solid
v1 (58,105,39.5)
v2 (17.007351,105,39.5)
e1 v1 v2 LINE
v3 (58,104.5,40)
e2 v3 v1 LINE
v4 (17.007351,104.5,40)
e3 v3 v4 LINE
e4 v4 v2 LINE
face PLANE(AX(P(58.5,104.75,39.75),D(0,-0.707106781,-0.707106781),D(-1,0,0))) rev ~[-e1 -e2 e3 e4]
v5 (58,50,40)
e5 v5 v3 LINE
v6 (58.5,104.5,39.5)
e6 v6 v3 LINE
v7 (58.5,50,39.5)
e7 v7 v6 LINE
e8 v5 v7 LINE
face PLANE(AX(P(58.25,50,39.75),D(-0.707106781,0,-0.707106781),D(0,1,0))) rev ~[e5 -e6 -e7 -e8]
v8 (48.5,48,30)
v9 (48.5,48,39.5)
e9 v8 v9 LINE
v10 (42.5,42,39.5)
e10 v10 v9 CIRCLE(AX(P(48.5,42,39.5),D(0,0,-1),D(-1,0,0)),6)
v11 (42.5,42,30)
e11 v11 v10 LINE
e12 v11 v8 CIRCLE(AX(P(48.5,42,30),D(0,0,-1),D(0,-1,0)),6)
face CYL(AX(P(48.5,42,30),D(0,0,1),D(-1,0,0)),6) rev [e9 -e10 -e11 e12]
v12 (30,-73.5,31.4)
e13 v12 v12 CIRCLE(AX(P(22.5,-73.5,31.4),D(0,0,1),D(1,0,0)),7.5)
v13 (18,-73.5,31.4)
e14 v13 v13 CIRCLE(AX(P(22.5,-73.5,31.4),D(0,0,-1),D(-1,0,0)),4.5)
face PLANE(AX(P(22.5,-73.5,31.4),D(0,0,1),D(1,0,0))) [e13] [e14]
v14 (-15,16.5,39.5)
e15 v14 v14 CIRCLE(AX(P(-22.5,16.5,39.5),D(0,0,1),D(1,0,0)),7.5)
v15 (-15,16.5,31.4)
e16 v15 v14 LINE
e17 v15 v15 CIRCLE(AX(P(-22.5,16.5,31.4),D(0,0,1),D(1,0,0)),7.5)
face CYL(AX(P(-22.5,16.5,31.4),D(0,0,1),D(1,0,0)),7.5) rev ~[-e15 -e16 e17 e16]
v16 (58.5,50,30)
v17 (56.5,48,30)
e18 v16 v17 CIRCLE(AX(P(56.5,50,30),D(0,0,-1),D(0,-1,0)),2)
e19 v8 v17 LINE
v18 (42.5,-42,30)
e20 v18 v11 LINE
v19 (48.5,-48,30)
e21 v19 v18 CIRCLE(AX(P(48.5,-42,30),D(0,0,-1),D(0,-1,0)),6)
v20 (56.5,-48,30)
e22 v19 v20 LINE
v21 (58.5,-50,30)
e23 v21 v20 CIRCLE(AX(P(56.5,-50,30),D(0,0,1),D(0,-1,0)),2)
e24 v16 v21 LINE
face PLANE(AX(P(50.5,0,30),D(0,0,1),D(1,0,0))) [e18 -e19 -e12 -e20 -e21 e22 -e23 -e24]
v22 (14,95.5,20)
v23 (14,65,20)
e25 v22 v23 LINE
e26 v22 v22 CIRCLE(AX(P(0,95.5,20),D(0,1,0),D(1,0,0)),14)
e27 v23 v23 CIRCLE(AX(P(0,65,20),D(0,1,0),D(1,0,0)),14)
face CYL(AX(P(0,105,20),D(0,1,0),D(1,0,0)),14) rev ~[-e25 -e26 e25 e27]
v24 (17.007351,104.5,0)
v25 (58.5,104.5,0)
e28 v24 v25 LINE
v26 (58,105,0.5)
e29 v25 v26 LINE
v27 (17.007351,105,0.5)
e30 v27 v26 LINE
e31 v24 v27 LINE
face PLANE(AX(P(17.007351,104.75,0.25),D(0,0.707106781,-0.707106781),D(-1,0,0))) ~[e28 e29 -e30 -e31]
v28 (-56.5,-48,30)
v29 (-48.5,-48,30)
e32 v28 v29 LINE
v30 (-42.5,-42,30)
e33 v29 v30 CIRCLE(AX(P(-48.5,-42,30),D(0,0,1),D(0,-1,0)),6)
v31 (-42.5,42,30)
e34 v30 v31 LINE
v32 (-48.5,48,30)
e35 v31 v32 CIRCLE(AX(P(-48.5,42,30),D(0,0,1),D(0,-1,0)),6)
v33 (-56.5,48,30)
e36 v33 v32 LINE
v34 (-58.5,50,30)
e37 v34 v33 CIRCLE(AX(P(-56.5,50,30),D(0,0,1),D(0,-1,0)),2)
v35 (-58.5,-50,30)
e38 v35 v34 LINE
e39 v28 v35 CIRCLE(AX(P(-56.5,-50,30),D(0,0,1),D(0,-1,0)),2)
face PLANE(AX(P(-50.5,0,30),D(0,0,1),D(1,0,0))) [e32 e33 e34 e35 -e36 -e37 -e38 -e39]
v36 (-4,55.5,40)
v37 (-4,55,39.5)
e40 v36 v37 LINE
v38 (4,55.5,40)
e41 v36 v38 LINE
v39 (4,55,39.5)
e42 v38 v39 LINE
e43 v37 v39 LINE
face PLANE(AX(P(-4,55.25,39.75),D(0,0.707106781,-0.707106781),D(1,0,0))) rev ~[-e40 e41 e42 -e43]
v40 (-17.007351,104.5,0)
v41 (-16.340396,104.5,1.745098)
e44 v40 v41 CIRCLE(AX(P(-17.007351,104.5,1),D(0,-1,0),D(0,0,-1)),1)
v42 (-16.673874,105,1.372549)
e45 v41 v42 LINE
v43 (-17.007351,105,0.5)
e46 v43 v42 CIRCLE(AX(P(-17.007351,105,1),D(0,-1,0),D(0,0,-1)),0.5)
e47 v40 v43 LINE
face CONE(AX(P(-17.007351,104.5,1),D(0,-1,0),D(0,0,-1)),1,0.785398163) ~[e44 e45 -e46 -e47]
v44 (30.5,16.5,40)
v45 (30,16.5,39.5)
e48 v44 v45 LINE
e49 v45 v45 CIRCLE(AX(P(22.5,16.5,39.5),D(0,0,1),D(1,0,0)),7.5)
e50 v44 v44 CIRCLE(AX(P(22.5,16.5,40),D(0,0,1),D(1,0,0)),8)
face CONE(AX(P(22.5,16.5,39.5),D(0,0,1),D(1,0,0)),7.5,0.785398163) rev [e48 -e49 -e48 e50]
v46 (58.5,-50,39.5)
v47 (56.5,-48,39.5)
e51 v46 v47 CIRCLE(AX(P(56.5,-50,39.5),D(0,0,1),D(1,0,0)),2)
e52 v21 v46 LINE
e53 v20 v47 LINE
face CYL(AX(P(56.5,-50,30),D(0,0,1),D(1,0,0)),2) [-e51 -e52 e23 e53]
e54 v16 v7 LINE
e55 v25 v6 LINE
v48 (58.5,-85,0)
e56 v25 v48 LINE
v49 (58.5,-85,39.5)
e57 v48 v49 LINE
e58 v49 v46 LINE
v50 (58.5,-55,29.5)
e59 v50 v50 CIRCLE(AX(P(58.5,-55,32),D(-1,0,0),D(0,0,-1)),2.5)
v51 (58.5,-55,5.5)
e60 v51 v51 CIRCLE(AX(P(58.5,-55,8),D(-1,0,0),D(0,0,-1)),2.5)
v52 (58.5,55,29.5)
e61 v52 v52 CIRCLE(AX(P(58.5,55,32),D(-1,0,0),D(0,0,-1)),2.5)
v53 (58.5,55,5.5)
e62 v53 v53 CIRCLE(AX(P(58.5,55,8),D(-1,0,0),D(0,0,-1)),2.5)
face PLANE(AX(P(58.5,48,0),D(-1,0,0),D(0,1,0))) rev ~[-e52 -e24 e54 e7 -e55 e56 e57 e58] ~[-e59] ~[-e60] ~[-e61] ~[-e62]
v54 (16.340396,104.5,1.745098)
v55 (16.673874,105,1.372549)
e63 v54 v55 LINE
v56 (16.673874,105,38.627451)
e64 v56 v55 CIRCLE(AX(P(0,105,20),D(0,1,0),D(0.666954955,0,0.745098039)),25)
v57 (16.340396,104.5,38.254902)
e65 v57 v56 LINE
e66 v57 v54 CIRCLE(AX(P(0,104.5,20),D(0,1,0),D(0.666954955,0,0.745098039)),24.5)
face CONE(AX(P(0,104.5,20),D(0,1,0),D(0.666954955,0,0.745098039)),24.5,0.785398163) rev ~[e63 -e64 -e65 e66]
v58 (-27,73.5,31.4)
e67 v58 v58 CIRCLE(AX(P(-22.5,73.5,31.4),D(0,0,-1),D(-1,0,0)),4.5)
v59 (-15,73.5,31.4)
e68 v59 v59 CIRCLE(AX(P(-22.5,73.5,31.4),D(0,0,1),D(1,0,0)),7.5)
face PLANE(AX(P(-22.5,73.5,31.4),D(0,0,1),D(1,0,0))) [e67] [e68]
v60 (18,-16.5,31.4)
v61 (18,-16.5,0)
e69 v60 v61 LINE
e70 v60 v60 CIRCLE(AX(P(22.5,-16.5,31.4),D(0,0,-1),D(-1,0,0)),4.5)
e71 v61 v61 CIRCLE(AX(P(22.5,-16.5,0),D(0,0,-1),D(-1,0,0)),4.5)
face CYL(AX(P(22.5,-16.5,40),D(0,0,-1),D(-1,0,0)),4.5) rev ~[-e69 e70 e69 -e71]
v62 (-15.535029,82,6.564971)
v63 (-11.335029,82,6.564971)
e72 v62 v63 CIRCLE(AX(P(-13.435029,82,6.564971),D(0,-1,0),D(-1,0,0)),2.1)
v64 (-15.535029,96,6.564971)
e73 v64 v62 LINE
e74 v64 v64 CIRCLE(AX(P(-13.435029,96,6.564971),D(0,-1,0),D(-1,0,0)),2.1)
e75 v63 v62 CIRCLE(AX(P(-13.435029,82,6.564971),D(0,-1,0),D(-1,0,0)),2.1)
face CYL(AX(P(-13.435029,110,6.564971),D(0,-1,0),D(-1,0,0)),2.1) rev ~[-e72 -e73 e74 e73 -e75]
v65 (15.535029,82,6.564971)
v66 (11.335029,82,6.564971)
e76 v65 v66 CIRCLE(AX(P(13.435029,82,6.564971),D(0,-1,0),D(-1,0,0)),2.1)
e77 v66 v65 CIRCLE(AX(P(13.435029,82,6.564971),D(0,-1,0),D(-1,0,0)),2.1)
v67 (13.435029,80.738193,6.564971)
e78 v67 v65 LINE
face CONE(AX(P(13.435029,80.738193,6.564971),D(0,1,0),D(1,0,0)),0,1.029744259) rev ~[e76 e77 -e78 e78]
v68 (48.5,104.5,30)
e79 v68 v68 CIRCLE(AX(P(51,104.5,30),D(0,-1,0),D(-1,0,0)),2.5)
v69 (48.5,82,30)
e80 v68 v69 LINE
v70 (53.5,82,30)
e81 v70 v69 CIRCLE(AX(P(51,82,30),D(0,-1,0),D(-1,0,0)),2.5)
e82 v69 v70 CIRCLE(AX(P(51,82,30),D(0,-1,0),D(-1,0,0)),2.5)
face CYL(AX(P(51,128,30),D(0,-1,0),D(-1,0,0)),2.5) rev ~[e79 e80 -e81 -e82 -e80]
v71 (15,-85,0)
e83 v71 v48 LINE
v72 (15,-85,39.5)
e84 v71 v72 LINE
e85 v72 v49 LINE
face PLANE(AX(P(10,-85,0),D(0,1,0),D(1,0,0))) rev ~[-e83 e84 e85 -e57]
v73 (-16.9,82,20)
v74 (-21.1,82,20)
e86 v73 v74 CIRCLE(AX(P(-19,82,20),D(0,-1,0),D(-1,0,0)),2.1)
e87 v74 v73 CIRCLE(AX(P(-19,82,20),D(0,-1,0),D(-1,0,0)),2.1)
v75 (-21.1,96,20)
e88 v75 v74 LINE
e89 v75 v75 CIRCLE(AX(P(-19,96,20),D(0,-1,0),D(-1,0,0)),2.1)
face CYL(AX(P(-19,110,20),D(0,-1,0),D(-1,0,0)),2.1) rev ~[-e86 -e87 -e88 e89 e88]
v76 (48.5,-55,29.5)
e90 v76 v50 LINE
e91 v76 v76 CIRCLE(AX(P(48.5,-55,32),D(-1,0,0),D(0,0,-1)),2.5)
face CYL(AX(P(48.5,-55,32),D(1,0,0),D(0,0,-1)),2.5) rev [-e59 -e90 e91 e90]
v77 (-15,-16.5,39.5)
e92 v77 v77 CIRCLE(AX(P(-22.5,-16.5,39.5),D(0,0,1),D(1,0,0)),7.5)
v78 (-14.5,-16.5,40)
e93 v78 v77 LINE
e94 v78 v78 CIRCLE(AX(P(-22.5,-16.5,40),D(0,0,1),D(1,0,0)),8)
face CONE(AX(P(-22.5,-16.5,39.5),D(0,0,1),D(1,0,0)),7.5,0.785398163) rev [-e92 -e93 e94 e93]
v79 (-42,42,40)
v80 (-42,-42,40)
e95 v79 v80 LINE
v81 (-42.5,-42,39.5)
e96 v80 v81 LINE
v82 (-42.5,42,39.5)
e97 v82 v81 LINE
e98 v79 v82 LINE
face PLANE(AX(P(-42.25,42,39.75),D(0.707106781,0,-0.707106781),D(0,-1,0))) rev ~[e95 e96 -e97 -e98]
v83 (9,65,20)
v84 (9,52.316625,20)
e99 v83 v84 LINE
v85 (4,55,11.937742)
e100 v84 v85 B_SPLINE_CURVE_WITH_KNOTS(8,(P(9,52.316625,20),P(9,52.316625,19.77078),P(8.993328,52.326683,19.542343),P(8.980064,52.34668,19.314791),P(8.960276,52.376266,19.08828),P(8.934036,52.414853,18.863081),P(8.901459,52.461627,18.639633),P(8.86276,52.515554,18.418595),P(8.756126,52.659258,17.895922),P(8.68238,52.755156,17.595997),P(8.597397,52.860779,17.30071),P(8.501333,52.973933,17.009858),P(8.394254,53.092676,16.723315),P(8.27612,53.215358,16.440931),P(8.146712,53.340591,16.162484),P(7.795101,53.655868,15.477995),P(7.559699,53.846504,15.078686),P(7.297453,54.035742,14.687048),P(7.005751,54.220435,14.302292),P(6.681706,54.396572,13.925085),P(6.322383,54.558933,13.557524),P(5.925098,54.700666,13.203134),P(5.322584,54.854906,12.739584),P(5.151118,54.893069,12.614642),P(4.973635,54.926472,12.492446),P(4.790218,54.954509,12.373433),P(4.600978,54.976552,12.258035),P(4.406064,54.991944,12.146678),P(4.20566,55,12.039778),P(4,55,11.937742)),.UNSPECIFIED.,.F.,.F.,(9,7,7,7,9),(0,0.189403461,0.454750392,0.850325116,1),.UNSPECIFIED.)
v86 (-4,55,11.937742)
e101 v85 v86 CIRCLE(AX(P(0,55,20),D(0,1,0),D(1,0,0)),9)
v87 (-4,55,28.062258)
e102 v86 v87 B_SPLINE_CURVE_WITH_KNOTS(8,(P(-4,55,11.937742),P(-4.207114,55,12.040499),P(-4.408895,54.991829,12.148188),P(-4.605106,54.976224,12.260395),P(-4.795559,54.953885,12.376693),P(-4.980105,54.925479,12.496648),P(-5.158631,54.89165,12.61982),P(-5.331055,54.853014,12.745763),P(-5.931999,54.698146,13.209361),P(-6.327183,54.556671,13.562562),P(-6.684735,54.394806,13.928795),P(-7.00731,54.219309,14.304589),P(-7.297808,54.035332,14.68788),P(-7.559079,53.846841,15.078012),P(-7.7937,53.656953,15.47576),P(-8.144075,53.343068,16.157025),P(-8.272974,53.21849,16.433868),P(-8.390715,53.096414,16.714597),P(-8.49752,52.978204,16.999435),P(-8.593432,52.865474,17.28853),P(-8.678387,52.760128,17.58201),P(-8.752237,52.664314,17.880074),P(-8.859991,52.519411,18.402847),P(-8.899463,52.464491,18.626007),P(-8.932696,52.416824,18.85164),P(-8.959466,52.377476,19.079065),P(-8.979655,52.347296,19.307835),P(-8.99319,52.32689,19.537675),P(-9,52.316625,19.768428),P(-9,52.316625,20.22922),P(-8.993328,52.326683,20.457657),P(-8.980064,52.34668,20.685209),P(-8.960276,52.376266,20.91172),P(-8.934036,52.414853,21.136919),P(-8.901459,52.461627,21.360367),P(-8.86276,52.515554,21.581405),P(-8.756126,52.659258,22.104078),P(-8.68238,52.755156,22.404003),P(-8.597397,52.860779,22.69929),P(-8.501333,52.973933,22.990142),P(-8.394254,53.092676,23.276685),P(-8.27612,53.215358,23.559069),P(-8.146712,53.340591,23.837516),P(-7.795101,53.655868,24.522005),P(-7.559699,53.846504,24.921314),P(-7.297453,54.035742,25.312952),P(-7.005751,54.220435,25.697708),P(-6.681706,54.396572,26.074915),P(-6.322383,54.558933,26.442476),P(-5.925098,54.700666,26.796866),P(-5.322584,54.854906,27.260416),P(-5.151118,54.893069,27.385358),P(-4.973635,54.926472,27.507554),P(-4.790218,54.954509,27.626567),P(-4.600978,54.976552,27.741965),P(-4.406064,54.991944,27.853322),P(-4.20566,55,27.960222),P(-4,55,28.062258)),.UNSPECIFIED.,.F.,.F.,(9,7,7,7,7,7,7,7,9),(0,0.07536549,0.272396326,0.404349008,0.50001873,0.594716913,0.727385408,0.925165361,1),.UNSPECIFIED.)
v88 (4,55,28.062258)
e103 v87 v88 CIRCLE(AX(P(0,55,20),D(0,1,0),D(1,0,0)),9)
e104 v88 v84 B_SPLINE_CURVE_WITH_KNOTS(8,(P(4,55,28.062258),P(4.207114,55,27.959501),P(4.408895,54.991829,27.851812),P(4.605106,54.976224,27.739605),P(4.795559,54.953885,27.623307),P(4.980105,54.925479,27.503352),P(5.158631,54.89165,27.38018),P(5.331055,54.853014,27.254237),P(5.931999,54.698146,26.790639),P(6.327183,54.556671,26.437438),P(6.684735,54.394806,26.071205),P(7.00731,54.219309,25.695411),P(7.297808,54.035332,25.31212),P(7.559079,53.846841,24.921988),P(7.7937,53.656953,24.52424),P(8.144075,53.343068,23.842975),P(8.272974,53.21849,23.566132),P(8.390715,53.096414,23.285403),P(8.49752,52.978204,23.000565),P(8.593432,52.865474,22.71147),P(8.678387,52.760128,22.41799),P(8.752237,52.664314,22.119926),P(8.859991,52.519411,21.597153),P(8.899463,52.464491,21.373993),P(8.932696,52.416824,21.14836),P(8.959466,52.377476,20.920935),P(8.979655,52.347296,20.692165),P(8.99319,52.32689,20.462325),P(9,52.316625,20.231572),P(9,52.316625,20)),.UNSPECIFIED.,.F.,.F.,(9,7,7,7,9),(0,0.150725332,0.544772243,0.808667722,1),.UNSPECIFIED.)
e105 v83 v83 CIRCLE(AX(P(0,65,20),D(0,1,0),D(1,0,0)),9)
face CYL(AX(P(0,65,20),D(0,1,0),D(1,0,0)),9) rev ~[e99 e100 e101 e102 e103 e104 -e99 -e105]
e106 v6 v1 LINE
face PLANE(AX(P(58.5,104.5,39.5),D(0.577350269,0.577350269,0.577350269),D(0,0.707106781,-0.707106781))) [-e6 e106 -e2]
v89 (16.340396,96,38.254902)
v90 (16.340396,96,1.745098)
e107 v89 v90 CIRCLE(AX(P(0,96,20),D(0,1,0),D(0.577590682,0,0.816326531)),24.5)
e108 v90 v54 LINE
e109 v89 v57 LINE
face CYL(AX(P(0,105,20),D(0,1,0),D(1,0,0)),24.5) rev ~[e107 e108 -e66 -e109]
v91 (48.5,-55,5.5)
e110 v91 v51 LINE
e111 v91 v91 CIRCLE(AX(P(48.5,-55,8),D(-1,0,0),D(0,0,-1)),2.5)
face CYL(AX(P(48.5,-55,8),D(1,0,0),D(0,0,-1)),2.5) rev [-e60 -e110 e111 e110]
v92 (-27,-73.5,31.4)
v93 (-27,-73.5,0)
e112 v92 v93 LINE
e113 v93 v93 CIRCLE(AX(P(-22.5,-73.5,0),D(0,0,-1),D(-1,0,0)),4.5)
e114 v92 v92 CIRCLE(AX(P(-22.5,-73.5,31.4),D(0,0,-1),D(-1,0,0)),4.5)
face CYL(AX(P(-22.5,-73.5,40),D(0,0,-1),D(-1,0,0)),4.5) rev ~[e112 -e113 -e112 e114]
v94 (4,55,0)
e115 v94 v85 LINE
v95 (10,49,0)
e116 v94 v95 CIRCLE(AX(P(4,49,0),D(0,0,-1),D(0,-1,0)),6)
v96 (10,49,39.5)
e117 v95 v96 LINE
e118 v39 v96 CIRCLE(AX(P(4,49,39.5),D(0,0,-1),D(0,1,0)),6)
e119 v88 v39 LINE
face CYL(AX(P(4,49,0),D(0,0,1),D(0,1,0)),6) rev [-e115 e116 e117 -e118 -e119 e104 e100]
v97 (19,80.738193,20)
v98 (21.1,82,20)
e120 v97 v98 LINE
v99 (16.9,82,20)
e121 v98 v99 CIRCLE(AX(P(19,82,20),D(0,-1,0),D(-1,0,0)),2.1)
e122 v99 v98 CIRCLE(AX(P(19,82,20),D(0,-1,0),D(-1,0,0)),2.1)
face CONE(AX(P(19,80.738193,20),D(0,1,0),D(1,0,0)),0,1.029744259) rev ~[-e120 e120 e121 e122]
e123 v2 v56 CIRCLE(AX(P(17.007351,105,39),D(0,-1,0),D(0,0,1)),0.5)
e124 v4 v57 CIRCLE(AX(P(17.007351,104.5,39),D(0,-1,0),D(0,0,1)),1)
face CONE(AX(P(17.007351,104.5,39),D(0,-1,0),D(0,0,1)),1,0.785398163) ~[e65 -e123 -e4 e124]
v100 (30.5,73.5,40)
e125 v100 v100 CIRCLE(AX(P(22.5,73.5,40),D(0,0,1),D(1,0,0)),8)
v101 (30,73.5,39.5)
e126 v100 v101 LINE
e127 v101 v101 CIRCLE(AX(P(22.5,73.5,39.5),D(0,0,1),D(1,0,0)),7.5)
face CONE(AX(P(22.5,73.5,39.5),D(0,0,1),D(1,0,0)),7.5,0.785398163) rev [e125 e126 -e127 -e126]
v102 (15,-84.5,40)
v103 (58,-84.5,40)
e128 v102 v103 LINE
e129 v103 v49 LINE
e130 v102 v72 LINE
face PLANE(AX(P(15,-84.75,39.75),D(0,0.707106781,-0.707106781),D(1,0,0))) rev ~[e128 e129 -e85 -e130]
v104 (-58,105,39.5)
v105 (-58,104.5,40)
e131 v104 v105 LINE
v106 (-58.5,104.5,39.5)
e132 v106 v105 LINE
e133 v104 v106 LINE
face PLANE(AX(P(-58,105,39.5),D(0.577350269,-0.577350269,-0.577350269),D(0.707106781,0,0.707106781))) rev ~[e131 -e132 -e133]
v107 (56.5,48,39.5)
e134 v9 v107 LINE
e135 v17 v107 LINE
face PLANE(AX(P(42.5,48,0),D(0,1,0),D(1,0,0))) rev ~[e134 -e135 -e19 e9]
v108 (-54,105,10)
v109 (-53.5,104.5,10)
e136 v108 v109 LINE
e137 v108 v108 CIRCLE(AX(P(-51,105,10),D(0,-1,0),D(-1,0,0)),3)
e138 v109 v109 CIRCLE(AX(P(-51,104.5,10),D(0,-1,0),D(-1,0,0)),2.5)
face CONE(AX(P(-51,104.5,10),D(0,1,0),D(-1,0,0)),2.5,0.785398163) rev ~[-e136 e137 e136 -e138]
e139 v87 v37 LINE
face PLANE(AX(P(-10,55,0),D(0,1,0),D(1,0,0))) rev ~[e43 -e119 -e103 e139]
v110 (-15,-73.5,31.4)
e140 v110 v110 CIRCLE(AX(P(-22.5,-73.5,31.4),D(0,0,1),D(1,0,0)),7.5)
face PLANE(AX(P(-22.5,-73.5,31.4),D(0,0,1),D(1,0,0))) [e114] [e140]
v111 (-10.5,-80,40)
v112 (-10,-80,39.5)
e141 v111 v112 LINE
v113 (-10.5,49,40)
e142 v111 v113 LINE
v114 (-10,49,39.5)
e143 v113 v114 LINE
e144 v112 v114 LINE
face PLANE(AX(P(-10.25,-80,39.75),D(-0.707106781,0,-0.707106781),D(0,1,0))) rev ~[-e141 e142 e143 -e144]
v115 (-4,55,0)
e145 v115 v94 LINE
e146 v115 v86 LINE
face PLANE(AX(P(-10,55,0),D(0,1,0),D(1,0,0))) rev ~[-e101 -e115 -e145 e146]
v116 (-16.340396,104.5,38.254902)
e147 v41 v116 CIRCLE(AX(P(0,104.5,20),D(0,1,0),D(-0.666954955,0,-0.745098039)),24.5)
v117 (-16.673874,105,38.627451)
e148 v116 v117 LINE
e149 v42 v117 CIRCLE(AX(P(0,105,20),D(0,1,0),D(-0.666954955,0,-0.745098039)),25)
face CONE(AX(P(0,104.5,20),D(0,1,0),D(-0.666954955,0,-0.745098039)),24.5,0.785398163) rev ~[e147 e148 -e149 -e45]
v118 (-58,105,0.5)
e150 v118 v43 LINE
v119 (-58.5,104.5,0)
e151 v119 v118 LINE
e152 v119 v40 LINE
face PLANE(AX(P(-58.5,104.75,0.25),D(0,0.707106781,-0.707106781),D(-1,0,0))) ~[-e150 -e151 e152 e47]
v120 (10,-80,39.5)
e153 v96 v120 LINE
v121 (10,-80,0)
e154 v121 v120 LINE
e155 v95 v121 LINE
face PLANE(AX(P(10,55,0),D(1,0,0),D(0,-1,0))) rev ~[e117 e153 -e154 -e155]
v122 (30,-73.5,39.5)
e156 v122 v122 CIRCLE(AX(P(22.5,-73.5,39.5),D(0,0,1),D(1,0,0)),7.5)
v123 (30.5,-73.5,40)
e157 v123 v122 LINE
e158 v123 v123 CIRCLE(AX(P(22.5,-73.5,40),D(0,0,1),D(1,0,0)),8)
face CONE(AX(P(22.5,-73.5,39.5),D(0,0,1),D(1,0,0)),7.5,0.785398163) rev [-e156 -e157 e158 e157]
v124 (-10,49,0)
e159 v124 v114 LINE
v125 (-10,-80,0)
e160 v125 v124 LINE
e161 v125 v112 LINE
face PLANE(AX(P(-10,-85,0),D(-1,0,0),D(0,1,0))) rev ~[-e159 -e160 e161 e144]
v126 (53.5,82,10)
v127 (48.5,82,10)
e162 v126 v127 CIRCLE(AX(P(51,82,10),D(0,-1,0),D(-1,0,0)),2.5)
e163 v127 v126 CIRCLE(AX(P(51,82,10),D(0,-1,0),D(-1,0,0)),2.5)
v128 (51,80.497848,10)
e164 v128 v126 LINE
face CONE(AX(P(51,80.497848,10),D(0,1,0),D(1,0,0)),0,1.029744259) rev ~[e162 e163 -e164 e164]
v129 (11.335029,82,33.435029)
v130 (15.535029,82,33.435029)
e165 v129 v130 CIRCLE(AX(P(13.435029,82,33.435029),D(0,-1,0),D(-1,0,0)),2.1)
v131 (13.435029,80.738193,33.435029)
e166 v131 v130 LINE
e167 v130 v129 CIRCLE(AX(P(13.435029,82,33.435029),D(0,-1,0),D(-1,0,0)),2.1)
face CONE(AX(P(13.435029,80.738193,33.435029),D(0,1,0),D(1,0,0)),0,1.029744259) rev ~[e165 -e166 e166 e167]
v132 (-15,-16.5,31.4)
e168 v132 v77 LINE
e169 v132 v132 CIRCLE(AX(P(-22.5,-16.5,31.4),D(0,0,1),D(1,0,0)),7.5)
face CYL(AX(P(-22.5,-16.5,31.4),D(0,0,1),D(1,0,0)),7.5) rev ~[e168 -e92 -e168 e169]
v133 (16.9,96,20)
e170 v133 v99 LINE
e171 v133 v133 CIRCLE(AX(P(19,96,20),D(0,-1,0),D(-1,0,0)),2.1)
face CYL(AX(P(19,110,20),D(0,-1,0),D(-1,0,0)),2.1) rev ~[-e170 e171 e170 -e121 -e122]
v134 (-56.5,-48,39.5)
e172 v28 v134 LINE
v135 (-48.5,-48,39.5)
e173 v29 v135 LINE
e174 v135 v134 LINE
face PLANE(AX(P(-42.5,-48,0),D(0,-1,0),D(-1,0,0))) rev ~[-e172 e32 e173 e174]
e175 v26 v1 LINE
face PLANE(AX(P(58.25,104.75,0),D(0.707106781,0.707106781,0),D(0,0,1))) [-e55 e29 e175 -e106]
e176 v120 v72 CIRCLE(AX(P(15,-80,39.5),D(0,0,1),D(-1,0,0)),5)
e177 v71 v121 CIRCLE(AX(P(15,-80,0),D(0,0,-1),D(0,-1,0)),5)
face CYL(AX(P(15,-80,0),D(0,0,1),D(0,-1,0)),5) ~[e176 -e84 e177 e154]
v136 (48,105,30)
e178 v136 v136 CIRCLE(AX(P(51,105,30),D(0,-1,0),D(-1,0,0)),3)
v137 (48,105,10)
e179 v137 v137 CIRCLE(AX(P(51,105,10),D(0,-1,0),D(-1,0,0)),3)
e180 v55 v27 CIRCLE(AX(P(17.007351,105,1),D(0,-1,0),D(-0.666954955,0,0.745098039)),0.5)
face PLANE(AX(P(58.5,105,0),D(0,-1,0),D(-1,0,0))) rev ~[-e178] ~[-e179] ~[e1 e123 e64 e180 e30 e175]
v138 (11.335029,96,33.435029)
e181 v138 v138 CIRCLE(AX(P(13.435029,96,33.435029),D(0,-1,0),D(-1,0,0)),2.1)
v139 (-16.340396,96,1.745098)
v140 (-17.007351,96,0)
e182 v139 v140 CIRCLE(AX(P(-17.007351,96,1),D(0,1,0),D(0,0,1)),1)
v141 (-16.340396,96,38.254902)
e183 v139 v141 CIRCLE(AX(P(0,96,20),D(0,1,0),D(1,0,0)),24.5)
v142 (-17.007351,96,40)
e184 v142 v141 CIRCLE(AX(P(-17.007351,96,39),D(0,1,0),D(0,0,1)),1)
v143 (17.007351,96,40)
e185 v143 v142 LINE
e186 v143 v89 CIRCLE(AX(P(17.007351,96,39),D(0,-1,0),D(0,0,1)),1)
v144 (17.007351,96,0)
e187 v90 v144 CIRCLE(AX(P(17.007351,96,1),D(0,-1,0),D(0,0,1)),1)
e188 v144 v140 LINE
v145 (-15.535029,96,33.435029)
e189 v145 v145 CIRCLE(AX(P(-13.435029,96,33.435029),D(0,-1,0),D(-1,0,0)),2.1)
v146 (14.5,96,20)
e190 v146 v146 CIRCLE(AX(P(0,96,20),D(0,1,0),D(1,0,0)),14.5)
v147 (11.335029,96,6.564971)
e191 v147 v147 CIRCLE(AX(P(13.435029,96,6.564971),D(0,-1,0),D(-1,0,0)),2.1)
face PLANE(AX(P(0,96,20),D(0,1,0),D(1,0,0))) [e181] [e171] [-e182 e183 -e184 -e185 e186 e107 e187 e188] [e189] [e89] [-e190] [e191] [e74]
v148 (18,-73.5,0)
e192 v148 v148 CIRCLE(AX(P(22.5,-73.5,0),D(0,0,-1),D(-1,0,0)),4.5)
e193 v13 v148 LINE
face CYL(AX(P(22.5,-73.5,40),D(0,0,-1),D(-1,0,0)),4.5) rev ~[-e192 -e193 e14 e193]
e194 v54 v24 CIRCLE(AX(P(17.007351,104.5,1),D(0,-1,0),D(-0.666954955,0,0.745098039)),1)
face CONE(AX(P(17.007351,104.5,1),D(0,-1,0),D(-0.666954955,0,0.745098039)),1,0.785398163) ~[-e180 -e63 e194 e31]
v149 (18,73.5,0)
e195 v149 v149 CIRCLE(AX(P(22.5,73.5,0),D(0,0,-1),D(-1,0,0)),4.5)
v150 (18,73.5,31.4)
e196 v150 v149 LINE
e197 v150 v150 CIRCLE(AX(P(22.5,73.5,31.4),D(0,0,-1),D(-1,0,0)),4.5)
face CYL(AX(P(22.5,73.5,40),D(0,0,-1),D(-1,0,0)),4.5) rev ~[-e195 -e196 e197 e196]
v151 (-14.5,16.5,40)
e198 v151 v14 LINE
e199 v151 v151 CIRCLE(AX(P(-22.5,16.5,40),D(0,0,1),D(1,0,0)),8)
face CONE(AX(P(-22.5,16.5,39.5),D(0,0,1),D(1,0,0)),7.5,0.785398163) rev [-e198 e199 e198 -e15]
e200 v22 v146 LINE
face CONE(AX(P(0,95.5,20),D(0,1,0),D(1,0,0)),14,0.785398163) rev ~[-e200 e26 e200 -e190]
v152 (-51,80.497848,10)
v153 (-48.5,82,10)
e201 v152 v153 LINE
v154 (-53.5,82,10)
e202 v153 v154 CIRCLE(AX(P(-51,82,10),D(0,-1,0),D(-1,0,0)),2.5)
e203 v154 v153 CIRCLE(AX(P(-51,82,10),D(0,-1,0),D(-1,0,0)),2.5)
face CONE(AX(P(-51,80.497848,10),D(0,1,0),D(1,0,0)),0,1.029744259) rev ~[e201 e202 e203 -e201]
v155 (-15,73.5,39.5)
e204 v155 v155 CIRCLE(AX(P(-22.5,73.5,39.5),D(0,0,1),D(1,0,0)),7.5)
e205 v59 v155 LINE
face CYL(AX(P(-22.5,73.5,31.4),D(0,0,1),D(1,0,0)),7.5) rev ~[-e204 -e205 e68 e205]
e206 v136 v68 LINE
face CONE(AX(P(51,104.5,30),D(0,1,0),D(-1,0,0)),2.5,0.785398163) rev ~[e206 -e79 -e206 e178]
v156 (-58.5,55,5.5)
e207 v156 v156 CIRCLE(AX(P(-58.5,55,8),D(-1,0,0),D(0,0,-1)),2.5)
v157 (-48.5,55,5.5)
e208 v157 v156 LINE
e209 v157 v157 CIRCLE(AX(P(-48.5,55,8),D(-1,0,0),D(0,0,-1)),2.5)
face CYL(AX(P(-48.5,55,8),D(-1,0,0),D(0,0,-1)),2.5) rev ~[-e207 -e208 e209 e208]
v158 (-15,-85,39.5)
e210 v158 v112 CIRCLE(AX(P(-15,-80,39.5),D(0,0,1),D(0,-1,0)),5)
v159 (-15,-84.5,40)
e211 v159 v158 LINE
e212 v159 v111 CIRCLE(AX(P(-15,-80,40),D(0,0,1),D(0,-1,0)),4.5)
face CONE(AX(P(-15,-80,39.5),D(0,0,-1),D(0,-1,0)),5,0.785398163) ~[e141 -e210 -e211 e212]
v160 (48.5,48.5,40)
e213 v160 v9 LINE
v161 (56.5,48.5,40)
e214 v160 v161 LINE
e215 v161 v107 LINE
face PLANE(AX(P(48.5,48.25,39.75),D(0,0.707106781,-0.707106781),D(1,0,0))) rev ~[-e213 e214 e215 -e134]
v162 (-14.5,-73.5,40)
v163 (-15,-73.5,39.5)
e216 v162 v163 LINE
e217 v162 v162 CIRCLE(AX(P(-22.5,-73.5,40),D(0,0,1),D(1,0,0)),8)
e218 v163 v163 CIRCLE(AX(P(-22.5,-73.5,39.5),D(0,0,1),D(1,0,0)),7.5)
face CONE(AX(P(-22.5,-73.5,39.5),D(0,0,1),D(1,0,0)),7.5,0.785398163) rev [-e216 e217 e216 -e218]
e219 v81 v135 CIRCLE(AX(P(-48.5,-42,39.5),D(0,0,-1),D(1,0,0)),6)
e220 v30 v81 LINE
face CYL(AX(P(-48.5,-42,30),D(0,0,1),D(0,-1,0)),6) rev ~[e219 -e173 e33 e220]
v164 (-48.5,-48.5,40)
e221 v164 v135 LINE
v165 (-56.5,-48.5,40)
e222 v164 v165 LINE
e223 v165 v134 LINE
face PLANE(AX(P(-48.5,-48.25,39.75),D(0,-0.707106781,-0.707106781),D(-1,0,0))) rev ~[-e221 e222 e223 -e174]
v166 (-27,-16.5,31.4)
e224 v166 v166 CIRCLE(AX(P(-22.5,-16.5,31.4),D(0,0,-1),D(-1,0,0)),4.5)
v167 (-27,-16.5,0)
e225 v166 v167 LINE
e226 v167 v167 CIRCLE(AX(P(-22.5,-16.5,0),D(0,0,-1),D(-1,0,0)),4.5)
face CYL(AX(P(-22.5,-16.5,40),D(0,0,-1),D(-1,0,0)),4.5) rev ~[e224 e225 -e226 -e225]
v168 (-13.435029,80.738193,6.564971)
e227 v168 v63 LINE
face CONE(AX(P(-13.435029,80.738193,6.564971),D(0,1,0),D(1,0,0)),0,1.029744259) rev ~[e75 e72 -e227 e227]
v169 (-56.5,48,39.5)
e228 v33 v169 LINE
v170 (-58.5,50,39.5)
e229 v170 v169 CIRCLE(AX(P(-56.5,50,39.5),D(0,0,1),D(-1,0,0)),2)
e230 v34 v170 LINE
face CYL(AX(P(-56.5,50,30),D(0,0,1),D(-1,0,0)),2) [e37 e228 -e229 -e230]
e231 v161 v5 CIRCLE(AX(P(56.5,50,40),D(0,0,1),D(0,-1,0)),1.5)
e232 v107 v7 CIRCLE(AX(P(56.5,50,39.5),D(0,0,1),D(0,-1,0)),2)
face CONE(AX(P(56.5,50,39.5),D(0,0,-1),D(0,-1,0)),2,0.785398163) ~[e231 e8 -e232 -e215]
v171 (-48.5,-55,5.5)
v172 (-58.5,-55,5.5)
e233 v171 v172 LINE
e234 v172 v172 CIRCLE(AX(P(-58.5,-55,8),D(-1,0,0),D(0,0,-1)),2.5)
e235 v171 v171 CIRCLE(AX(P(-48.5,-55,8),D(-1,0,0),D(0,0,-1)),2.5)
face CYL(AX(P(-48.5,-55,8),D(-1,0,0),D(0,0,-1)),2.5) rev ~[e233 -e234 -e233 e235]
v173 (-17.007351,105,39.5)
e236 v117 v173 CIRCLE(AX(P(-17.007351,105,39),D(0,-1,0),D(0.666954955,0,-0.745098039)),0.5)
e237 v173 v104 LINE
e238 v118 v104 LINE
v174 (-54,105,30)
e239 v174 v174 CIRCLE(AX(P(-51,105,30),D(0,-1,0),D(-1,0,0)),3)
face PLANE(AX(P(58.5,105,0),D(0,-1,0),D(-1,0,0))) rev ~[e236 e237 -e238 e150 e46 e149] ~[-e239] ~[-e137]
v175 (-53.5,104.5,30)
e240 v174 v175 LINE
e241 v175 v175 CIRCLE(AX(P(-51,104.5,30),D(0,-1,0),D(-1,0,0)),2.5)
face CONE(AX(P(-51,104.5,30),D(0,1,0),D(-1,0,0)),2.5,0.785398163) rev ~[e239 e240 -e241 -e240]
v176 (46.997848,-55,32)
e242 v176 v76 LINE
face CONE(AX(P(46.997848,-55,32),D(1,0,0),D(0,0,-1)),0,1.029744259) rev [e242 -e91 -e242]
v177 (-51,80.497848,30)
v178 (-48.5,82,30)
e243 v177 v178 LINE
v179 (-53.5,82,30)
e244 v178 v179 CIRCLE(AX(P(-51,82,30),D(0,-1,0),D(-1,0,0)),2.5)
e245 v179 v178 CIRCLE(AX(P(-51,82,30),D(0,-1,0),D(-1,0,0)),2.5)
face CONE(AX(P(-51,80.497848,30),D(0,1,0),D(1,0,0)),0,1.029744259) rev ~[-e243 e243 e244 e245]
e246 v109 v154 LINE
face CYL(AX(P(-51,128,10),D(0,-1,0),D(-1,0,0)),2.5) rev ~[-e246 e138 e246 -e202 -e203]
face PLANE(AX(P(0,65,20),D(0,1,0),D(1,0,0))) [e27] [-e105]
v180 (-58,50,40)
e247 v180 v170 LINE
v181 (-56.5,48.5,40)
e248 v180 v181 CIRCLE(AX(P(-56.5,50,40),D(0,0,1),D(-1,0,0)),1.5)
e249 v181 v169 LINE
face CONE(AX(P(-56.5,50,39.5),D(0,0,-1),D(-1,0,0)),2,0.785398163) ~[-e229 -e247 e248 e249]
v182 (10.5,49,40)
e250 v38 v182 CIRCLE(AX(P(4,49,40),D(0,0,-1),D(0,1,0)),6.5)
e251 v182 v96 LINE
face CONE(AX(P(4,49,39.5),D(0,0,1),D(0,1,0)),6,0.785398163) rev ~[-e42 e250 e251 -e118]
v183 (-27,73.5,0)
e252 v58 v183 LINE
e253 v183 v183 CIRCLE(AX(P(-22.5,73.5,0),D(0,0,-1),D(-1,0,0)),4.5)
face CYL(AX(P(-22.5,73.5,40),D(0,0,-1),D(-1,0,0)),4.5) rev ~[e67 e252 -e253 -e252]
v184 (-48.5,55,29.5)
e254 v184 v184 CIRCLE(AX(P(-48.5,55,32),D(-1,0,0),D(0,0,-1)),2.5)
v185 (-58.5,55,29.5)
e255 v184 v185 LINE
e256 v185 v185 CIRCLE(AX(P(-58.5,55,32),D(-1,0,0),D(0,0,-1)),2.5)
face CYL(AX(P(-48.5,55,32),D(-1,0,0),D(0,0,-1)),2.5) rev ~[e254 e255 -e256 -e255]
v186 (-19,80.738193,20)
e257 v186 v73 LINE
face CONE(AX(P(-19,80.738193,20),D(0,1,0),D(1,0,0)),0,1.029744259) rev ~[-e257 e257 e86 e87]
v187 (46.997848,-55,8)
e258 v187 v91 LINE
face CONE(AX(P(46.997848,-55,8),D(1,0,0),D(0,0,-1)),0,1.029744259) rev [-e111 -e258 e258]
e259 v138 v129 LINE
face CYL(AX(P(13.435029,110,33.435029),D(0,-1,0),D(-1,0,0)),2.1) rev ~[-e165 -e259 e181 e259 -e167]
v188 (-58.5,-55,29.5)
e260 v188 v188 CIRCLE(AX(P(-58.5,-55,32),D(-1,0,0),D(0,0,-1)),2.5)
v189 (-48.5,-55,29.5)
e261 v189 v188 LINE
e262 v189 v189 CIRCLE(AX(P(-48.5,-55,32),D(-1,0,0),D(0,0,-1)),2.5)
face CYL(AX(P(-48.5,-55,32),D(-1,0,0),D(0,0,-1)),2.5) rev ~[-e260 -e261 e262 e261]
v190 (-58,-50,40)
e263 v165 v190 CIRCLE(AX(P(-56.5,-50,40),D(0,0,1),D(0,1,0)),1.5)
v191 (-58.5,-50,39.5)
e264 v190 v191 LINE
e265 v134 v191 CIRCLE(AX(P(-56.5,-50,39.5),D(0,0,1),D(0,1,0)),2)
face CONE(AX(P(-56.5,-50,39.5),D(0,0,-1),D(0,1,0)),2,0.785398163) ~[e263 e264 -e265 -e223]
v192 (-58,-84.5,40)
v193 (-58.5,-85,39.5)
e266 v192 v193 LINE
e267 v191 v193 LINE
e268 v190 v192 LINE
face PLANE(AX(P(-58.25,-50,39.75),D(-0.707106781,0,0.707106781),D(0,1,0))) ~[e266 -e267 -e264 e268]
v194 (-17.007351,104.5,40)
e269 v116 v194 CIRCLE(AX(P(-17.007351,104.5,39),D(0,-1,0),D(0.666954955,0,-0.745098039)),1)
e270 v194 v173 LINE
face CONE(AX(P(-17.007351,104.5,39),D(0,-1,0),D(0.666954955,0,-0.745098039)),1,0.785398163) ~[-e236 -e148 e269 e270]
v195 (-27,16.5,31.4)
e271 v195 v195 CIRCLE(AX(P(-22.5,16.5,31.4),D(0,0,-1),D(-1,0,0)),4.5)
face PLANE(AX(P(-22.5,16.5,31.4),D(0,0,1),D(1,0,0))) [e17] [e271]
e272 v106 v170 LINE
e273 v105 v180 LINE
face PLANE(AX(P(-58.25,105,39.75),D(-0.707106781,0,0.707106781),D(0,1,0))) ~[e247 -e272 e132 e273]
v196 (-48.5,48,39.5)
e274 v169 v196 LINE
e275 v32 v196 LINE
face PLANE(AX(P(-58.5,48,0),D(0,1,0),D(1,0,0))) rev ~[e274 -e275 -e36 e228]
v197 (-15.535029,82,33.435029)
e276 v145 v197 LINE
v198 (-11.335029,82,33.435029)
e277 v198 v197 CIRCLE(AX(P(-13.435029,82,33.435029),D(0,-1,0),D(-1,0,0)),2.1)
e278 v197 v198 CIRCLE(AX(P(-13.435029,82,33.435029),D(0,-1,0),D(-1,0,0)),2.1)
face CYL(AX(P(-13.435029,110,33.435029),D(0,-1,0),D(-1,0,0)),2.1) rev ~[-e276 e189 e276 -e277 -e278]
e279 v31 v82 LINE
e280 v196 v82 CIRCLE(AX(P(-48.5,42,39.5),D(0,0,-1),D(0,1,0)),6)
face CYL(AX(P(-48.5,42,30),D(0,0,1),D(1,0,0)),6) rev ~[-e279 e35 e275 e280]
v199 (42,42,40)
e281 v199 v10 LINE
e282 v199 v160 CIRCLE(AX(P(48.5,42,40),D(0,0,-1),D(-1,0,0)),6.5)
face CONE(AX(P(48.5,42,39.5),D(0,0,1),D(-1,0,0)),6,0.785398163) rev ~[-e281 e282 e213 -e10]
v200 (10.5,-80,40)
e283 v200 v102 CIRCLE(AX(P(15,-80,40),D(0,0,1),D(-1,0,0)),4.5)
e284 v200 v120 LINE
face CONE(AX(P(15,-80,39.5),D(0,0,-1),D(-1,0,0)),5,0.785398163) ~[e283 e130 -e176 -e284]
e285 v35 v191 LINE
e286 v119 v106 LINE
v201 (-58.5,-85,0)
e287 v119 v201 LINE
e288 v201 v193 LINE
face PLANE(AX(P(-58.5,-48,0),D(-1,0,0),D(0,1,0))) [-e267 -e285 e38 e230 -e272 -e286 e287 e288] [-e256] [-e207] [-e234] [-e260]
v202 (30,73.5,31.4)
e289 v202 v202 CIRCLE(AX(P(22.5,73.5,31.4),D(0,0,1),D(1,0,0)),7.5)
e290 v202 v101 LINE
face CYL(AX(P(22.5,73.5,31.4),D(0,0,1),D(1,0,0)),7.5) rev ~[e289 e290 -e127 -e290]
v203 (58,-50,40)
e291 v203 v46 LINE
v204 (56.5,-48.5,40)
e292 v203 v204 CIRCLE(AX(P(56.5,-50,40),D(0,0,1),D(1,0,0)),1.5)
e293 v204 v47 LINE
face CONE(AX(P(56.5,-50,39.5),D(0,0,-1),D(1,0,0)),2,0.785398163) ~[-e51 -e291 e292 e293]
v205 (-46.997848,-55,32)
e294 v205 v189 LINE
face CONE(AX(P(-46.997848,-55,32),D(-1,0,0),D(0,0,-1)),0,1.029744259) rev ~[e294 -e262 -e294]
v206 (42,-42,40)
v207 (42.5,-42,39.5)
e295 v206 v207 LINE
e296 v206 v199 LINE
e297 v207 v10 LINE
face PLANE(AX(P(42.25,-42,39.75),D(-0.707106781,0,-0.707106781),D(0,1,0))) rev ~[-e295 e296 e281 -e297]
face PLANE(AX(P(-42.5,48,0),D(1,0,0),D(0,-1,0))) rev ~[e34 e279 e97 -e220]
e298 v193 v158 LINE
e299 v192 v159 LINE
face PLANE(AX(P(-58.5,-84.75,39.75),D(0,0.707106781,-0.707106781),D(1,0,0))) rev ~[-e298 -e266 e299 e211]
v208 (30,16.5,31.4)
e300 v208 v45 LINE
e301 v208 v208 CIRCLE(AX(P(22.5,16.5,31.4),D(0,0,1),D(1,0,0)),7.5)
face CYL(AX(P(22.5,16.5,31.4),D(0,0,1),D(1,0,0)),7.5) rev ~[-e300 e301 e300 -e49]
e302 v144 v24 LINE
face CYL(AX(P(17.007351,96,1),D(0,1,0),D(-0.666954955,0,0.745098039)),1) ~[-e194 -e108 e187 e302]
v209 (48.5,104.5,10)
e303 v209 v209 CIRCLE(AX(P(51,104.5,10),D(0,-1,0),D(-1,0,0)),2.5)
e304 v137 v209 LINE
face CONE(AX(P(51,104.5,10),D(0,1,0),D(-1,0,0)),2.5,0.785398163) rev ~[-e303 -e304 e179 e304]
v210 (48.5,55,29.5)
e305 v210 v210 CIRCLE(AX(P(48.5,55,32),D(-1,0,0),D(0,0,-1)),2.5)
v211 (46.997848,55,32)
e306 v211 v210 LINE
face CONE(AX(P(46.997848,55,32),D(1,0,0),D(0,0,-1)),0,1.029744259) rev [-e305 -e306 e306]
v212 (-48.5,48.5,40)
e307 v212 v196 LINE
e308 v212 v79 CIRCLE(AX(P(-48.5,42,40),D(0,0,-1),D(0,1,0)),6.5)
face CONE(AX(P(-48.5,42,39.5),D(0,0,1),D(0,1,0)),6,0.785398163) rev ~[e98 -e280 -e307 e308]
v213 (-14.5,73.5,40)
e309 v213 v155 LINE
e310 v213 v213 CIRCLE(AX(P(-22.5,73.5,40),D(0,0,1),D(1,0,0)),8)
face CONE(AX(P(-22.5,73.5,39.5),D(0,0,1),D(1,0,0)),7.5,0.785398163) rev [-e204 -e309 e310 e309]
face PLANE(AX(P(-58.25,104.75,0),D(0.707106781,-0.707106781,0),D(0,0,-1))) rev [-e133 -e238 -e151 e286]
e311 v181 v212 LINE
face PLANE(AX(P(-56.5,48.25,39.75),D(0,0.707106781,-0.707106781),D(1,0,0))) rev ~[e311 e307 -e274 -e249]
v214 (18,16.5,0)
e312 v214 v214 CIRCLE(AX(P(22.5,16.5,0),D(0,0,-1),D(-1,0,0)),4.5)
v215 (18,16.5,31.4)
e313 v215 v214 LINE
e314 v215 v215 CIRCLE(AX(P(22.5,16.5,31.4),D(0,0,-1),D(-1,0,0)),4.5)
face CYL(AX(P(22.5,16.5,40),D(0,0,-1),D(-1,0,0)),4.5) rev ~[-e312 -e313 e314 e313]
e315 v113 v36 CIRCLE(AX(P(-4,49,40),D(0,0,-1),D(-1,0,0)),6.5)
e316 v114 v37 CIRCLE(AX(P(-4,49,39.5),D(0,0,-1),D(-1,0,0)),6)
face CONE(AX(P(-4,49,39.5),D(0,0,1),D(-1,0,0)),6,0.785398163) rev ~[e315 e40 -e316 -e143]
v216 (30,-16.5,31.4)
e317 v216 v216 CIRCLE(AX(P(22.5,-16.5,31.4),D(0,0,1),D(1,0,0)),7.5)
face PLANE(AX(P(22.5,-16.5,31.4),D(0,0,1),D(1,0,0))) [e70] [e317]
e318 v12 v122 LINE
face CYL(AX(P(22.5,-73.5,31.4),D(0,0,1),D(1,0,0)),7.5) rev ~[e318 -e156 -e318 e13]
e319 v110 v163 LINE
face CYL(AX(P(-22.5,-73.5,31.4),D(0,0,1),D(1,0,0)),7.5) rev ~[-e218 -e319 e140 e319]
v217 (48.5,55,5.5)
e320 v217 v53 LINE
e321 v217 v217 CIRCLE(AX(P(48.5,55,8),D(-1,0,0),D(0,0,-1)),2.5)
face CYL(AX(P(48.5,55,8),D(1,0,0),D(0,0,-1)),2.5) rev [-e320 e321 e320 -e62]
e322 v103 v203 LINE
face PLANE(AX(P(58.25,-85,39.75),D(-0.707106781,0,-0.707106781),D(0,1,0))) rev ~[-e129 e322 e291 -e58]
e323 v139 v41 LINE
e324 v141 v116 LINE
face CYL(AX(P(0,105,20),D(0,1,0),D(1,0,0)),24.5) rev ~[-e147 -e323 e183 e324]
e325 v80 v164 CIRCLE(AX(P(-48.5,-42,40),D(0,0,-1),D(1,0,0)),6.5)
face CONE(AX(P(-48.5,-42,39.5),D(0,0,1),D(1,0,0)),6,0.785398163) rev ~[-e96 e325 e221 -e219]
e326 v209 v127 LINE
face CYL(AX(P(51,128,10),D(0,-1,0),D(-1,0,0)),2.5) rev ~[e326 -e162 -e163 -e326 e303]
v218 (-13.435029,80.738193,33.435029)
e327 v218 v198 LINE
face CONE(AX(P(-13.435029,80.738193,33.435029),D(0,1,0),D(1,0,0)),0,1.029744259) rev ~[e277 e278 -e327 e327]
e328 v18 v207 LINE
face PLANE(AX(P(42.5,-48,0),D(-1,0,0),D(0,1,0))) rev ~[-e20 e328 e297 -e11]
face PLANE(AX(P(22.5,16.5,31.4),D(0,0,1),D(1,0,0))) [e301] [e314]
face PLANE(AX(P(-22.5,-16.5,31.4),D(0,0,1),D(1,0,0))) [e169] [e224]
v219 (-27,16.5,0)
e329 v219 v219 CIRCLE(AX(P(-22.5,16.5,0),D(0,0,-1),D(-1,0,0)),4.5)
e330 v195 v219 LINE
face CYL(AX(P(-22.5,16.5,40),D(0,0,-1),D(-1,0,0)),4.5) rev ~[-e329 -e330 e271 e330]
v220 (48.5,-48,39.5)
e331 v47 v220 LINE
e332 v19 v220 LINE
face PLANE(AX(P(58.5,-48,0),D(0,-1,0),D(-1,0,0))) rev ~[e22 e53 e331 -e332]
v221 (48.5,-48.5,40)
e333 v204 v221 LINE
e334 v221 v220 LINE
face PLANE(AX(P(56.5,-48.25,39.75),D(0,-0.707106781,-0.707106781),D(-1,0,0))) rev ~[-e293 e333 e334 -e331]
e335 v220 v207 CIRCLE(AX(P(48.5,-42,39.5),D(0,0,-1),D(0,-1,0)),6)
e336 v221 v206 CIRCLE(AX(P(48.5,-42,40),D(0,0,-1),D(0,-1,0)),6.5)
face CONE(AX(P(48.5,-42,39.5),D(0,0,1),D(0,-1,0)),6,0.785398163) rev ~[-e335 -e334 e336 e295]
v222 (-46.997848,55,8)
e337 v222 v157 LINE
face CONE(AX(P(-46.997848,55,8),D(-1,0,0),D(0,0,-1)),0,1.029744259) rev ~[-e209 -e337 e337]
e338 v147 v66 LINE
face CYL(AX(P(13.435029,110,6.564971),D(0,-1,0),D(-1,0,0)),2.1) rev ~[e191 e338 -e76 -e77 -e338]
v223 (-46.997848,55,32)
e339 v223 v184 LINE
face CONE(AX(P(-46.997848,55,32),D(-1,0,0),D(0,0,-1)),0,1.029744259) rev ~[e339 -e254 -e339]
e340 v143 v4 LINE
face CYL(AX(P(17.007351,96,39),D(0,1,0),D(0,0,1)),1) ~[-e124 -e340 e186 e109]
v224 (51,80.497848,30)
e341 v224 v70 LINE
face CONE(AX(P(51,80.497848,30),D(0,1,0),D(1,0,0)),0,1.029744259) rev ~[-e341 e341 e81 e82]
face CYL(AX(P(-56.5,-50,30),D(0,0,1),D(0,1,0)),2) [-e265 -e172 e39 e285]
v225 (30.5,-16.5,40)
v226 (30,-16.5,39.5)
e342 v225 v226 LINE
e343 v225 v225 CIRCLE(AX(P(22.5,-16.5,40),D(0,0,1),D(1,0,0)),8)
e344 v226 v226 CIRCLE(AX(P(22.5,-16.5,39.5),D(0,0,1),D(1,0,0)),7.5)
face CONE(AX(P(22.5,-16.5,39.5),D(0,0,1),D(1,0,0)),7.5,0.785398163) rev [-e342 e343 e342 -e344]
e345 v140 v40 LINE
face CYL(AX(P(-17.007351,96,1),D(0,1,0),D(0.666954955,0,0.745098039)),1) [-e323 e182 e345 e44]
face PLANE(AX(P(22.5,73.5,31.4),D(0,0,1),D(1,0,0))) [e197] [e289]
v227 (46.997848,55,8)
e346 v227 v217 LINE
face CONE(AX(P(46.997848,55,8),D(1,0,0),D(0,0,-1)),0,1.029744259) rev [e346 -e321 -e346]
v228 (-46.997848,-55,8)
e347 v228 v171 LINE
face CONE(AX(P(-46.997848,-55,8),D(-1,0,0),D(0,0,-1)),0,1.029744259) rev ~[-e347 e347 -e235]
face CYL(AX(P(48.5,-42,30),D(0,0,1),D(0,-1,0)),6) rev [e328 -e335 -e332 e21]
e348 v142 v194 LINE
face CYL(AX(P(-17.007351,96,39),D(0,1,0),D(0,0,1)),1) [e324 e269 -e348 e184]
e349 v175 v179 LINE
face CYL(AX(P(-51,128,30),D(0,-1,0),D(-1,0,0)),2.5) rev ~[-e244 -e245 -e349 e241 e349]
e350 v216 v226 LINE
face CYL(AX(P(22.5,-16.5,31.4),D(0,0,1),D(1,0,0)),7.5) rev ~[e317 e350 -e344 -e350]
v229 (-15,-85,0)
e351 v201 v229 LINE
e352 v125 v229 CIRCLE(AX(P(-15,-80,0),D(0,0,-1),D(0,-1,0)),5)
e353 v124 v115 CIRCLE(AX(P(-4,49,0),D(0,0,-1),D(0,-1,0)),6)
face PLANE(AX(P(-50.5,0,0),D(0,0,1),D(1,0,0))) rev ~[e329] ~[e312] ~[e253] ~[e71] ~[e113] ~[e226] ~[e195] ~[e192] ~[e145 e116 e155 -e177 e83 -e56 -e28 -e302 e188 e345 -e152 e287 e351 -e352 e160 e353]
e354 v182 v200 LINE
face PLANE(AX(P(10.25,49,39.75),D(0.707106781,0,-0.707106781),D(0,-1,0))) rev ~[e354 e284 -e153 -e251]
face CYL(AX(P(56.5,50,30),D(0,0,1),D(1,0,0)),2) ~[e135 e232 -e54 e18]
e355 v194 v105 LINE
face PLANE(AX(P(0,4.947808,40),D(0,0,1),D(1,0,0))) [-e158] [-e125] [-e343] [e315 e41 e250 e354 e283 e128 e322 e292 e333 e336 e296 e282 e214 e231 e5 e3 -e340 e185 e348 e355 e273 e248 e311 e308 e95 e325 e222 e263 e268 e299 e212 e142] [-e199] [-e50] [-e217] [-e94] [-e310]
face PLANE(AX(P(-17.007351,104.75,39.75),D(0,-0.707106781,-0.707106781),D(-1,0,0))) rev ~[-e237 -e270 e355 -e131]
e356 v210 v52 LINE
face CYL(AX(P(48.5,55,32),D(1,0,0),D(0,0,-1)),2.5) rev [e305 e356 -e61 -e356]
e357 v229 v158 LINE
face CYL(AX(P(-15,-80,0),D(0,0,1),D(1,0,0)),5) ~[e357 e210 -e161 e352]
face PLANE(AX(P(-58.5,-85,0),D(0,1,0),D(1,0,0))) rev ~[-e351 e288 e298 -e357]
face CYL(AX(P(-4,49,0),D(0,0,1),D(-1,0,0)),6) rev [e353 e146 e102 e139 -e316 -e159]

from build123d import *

# Parameters (mm, degrees)
BOSS_EXTRU_1_DEPTH                                  = 40
ESQUISSE1_4_W                                       = 16
ESQUISSE1_4_H                                       = 96
BOSS_EXTRUDE1_DEPTH                                 = 30
ESQUISSE3_R                                         = 14
ENL_V_MAT_EXTRU_2_DEPTH                             = 40
CONG_1_R                                            = 6
CBORE_FOR_M8_HEX_SOCKET_HEAD_CAP_SCREW2_D           = 9
CBORE_FOR_M8_HEX_SOCKET_HEAD_CAP_SCREW2_CBORE_D     = 15
CBORE_FOR_M8_HEX_SOCKET_HEAD_CAP_SCREW2_CBORE_DEPTH = 8.6
SKETCH7_R                                           = 24.5
CUT_EXTRUDE2_DEPTH                                  = 9
M5_TAPPED_HOLE2_D                                   = 4.2
M5_TAPPED_HOLE2_DEPTH                               = 14
M5_TAPPED_HOLE2_TIP                                 = 1.2618073
SKETCH12_R                                          = 9
CUT_EXTRUDE3_DEPTH                                  = 166.898312228
TAP_DRILL_FOR_M6_TAP2_AT_2_COUNT                    = 2
TAP_DRILL_FOR_M6_TAP2_AT_2_PITCH                    = 24
TAP_DRILL_FOR_M6_TAP2_AT_3_COUNT                    = 2
TAP_DRILL_FOR_M6_TAP2_AT_3_PITCH                    = 110
TAP_DRILL_FOR_M6_TAP2_AT_4_COUNT                    = 2
TAP_DRILL_FOR_M6_TAP2_AT_4_PITCH                    = 112.58774356
FILLET2_R                                           = 5
FILLET3_R                                           = 6
FILLET4_R                                           = 2
TAP_DRILL_FOR_M6_TAP1_D                             = 5
TAP_DRILL_FOR_M6_TAP1_DEPTH                         = 23
TAP_DRILL_FOR_M6_TAP1_TIP                           = 1.502151548
FILLET1_R                                           = 1
CHAMFER1_SIZE                                       = 0.5


with BuildPart() as part:
    # Esquisse1 → Boss.-Extru.1 (new body)
    with BuildSketch(Plane.XY):
        Polygon((-58.5, -85), (-10, -85), (-10, 55), (10, 55), (10, -85), (58.5, -85), (58.5, -48), (42.5, -48), (42.5, 48), (58.5, 48), (58.5, 105), (-58.5, 105), (-58.5, 48), (-42.5, 48), (-42.5, -48), (-58.5, -48), align=None)
    extrude(amount=BOSS_EXTRU_1_DEPTH)

    # Esquisse1<4> → Boss-Extrude1 (add)
    with BuildSketch(Plane.XY):
        with Locations((-50.5, 0)):
            Rectangle(ESQUISSE1_4_W, ESQUISSE1_4_H)
        with Locations((50.5, 0)):
            Rectangle(ESQUISSE1_4_W, ESQUISSE1_4_H)
    extrude(amount=BOSS_EXTRUDE1_DEPTH)

    # Esquisse3 → Enlèv. mat.-Extru.2 (cut)
    with BuildSketch(Plane(origin=(0, 105, 0), x_dir=(1, 0, 0), z_dir=(0, 1, 0))):
        with Locations((0, -20)):
            Circle(ESQUISSE3_R)
    extrude(amount=-ENL_V_MAT_EXTRU_2_DEPTH, mode=Mode.SUBTRACT)

    # Congé1
    cong_1_edges = [part.edges().sort_by_distance(p)[0] for p in [
        (10, 55, 20),
        (-10, 55, 20),
    ]]
    fillet(cong_1_edges, radius=CONG_1_R)

    # CBORE for M8 Hex Socket Head Cap Screw2 (through all)
    with Locations(Plane.XY.offset(40)):
        with Locations((-22.5, 73.5), (22.5, 73.5), (22.5, 16.5), (-22.5, 16.5), (-22.5, -16.5), (22.5, -16.5), (22.5, -73.5), (-22.5, -73.5)):
            CounterBoreHole(CBORE_FOR_M8_HEX_SOCKET_HEAD_CAP_SCREW2_D / 2, CBORE_FOR_M8_HEX_SOCKET_HEAD_CAP_SCREW2_CBORE_D / 2, CBORE_FOR_M8_HEX_SOCKET_HEAD_CAP_SCREW2_CBORE_DEPTH)

    # Sketch7 → Cut-Extrude2 (cut)
    with BuildSketch(Plane(origin=(0, 105, 0), x_dir=(1, 0, 0), z_dir=(0, 1, 0))):
        with Locations((0, -20)):
            Circle(SKETCH7_R)
    extrude(amount=-CUT_EXTRUDE2_DEPTH, mode=Mode.SUBTRACT)

    # M5 Tapped Hole2
    with Locations(Plane(origin=(0, 96, 0), x_dir=(1, 0, 0), z_dir=(0, 1, 0))):
        with Locations((-13.435028843, -6.564971157), (-19, -20), (13.435028843, -6.564971157), (19, -20), (13.435028843, -33.435028843), (-13.435028843, -33.435028843)):
            Hole(M5_TAPPED_HOLE2_D / 2, depth=M5_TAPPED_HOLE2_DEPTH)
            with Locations((0, 0, -(M5_TAPPED_HOLE2_DEPTH + M5_TAPPED_HOLE2_TIP / 2))):  # 118° drill point
                Cone(0, M5_TAPPED_HOLE2_D / 2, M5_TAPPED_HOLE2_TIP, mode=Mode.SUBTRACT)

    # Sketch12 → Cut-Extrude3 (cut, through all)
    with BuildSketch(Plane(origin=(0, 65, 0), x_dir=(1, 0, 0), z_dir=(0, 1, 0))):
        with Locations((0, -20)):
            Circle(SKETCH12_R)
    extrude(amount=-CUT_EXTRUDE3_DEPTH, mode=Mode.SUBTRACT)

    # Sketch14 → Tap Drill for M6 Tap2 (revolve, cut)
    with BuildSketch(Plane(origin=(58.5, 55, 8), x_dir=(0, 0, -1), z_dir=(0, 1, 0))):
        Polygon((0, 0), (0, 11.502151548), (2.5, 10), (2.5, 0), align=None)
    tap_drill_for_m6_tap2 = revolve(axis=Axis((64.85, 55, 8), (-1, 0, 0)), mode=Mode.SUBTRACT)

    # Tap Drill for M6 Tap2 at 2: Tap Drill for M6 Tap2 ×2
    with Locations(*[(0, 0, i * TAP_DRILL_FOR_M6_TAP2_AT_2_PITCH) for i in range(1, TAP_DRILL_FOR_M6_TAP2_AT_2_COUNT)]):
        add(tap_drill_for_m6_tap2, mode=Mode.SUBTRACT)

    # Tap Drill for M6 Tap2 at 3: Tap Drill for M6 Tap2 ×2
    with Locations(*[(0, -i * TAP_DRILL_FOR_M6_TAP2_AT_3_PITCH, 0) for i in range(1, TAP_DRILL_FOR_M6_TAP2_AT_3_COUNT)]):
        add(tap_drill_for_m6_tap2, mode=Mode.SUBTRACT)

    # Tap Drill for M6 Tap2 at 4: Tap Drill for M6 Tap2 ×2
    with Locations(*[Vector(0, -0.9770157614099922, 0.21316707521672548) * (i * TAP_DRILL_FOR_M6_TAP2_AT_4_PITCH) for i in range(1, TAP_DRILL_FOR_M6_TAP2_AT_4_COUNT)]):
        add(tap_drill_for_m6_tap2, mode=Mode.SUBTRACT)

    # Mirror1: Tap Drill for M6 Tap2 across plane
    add(tap_drill_for_m6_tap2.mirror(Plane(origin=(0, 0, 0), x_dir=(0, 0, 1), z_dir=(1, 0, 0))), mode=Mode.SUBTRACT)

    # Mirror1 copy 1 sketch → Mirror1 copy 1 (revolve, cut)
    with BuildSketch(Plane(origin=(-58.5, 55, 32), x_dir=(0, 0, -1), z_dir=(0, 1, 0))):
        Polygon((0, 0), (0, -11.502151548), (2.5, -10), (2.5, 0), align=None)
    revolve(axis=Axis((-64.85, 55, 32), (-1, 0, 0)), mode=Mode.SUBTRACT)

    # Mirror1 copy 2 sketch → Mirror1 copy 2 (revolve, cut)
    with BuildSketch(Plane(origin=(-58.5, -55, 8), x_dir=(0, 0, -1), z_dir=(0, 1, 0))):
        Polygon((0, 0), (0, -11.502151548), (2.5, -10), (2.5, 0), align=None)
    revolve(axis=Axis((-64.85, -55, 8), (-1, 0, 0)), mode=Mode.SUBTRACT)

    # Mirror1 copy 3 sketch → Mirror1 copy 3 (revolve, cut)
    with BuildSketch(Plane(origin=(-58.5, -55, 32), x_dir=(0, 0, -1), z_dir=(0, 1, 0))):
        Polygon((0, 0), (0, -11.502151548), (2.5, -10), (2.5, 0), align=None)
    revolve(axis=Axis((-64.85, -55, 32), (-1, 0, 0)), mode=Mode.SUBTRACT)

    # Fillet2
    fillet2_edges = [part.edges().sort_by_distance(p)[0] for p in [
        (10, -85, 20),
        (-10, -85, 20),
    ]]
    fillet(fillet2_edges, radius=FILLET2_R)

    # Fillet3
    fillet3_edges = [part.edges().sort_by_distance(p)[0] for p in [
        (-42.5, 48, 35),
        (-42.5, -48, 35),
        (42.5, -48, 35),
        (42.5, 48, 35),
    ]]
    fillet(fillet3_edges, radius=FILLET3_R)

    # Fillet4
    fillet4_edges = [part.edges().sort_by_distance(p)[0] for p in [
        (58.5, -48, 35),
        (58.5, 48, 35),
        (-58.5, -48, 35),
        (-58.5, 48, 35),
    ]]
    fillet(fillet4_edges, radius=FILLET4_R)

    # Tap Drill for M6 Tap1
    with Locations(Plane(origin=(0, 105, 0), x_dir=(1, 0, 0), z_dir=(0, 1, 0))):
        with Locations((-51, -30), (-51, -10), (51, -10), (51, -30)):
            Hole(TAP_DRILL_FOR_M6_TAP1_D / 2, depth=TAP_DRILL_FOR_M6_TAP1_DEPTH)
            with Locations((0, 0, -(TAP_DRILL_FOR_M6_TAP1_DEPTH + TAP_DRILL_FOR_M6_TAP1_TIP / 2))):  # 118° drill point
                Cone(0, TAP_DRILL_FOR_M6_TAP1_D / 2, TAP_DRILL_FOR_M6_TAP1_TIP, mode=Mode.SUBTRACT)

    # Fillet1
    fillet1_edges = [part.edges().sort_by_distance(p)[0] for p in [
        (14.150971698, 100.5, 40),
        (-14.150971698, 100.5, 40),
        (-14.150971698, 100.5, 0),
        (14.150971698, 100.5, 0),
    ]]
    fillet(fillet1_edges, radius=FILLET1_R)

    # Chamfer1
    chamfer1_edges = [part.edges().sort_by_distance(p)[0] for p in [
        (-36.75, -85, 40),
        (-11.464466094, -83.535533906, 40),
        (-10, -15.5, 40),
        (-8.242640687, 53.242640687, 40),
        (0, 55, 40),
        (8.242640687, 53.242640687, 40),
        (10, -15.5, 40),
        (11.464466094, -83.535533906, 40),
        (36.75, -85, 40),
        (58.5, -67.5, 40),
        (58.5, 77.5, 40),
        (57.914213562, -48.585786438, 40),
        (57.914213562, 48.585786438, 40),
        (52.5, -48, 40),
        (52.5, 48, 40),
        (44.257359313, -46.242640687, 40),
        (44.257359313, 46.242640687, 40),
        (42.5, 0, 40),
        (-58.5, 77.5, 40),
        (-58.5, -67.5, 40),
        (-57.914213562, 48.585786438, 40),
        (-57.914213562, -48.585786438, 40),
        (-52.5, 48, 40),
        (-52.5, -48, 40),
        (-44.257359313, 46.242640687, 40),
        (-44.257359313, -46.242640687, 40),
        (-42.5, 0, 40),
        (-37.753675676, 105, 40),
        (37.753675676, 105, 40),
        (-37.753675676, 105, 0),
        (-16.073248028, 105, 0.642997226),
        (-24.5, 105, 20),
        (-16.073248028, 105, 39.357002774),
        (37.753675676, 105, 0),
        (16.073248028, 105, 0.642997226),
        (24.5, 105, 20),
        (16.073248028, 105, 39.357002774),
        (-14, 96, 20),
        (53.5, 105, 30),
        (53.5, 105, 10),
        (-48.5, 105, 30),
        (-48.5, 105, 10),
        (-58.5, 105, 20),
        (58.5, 105, 20),
        (-30, -73.5, 40),
        (15, -73.5, 40),
        (15, -16.5, 40),
        (15, 16.5, 40),
        (-30, -16.5, 40),
        (-30, 16.5, 40),
        (-30, 73.5, 40),
        (15, 73.5, 40),
    ]]
    chamfer(chamfer1_edges, length=CHAMFER1_SIZE)


solid = part.part
